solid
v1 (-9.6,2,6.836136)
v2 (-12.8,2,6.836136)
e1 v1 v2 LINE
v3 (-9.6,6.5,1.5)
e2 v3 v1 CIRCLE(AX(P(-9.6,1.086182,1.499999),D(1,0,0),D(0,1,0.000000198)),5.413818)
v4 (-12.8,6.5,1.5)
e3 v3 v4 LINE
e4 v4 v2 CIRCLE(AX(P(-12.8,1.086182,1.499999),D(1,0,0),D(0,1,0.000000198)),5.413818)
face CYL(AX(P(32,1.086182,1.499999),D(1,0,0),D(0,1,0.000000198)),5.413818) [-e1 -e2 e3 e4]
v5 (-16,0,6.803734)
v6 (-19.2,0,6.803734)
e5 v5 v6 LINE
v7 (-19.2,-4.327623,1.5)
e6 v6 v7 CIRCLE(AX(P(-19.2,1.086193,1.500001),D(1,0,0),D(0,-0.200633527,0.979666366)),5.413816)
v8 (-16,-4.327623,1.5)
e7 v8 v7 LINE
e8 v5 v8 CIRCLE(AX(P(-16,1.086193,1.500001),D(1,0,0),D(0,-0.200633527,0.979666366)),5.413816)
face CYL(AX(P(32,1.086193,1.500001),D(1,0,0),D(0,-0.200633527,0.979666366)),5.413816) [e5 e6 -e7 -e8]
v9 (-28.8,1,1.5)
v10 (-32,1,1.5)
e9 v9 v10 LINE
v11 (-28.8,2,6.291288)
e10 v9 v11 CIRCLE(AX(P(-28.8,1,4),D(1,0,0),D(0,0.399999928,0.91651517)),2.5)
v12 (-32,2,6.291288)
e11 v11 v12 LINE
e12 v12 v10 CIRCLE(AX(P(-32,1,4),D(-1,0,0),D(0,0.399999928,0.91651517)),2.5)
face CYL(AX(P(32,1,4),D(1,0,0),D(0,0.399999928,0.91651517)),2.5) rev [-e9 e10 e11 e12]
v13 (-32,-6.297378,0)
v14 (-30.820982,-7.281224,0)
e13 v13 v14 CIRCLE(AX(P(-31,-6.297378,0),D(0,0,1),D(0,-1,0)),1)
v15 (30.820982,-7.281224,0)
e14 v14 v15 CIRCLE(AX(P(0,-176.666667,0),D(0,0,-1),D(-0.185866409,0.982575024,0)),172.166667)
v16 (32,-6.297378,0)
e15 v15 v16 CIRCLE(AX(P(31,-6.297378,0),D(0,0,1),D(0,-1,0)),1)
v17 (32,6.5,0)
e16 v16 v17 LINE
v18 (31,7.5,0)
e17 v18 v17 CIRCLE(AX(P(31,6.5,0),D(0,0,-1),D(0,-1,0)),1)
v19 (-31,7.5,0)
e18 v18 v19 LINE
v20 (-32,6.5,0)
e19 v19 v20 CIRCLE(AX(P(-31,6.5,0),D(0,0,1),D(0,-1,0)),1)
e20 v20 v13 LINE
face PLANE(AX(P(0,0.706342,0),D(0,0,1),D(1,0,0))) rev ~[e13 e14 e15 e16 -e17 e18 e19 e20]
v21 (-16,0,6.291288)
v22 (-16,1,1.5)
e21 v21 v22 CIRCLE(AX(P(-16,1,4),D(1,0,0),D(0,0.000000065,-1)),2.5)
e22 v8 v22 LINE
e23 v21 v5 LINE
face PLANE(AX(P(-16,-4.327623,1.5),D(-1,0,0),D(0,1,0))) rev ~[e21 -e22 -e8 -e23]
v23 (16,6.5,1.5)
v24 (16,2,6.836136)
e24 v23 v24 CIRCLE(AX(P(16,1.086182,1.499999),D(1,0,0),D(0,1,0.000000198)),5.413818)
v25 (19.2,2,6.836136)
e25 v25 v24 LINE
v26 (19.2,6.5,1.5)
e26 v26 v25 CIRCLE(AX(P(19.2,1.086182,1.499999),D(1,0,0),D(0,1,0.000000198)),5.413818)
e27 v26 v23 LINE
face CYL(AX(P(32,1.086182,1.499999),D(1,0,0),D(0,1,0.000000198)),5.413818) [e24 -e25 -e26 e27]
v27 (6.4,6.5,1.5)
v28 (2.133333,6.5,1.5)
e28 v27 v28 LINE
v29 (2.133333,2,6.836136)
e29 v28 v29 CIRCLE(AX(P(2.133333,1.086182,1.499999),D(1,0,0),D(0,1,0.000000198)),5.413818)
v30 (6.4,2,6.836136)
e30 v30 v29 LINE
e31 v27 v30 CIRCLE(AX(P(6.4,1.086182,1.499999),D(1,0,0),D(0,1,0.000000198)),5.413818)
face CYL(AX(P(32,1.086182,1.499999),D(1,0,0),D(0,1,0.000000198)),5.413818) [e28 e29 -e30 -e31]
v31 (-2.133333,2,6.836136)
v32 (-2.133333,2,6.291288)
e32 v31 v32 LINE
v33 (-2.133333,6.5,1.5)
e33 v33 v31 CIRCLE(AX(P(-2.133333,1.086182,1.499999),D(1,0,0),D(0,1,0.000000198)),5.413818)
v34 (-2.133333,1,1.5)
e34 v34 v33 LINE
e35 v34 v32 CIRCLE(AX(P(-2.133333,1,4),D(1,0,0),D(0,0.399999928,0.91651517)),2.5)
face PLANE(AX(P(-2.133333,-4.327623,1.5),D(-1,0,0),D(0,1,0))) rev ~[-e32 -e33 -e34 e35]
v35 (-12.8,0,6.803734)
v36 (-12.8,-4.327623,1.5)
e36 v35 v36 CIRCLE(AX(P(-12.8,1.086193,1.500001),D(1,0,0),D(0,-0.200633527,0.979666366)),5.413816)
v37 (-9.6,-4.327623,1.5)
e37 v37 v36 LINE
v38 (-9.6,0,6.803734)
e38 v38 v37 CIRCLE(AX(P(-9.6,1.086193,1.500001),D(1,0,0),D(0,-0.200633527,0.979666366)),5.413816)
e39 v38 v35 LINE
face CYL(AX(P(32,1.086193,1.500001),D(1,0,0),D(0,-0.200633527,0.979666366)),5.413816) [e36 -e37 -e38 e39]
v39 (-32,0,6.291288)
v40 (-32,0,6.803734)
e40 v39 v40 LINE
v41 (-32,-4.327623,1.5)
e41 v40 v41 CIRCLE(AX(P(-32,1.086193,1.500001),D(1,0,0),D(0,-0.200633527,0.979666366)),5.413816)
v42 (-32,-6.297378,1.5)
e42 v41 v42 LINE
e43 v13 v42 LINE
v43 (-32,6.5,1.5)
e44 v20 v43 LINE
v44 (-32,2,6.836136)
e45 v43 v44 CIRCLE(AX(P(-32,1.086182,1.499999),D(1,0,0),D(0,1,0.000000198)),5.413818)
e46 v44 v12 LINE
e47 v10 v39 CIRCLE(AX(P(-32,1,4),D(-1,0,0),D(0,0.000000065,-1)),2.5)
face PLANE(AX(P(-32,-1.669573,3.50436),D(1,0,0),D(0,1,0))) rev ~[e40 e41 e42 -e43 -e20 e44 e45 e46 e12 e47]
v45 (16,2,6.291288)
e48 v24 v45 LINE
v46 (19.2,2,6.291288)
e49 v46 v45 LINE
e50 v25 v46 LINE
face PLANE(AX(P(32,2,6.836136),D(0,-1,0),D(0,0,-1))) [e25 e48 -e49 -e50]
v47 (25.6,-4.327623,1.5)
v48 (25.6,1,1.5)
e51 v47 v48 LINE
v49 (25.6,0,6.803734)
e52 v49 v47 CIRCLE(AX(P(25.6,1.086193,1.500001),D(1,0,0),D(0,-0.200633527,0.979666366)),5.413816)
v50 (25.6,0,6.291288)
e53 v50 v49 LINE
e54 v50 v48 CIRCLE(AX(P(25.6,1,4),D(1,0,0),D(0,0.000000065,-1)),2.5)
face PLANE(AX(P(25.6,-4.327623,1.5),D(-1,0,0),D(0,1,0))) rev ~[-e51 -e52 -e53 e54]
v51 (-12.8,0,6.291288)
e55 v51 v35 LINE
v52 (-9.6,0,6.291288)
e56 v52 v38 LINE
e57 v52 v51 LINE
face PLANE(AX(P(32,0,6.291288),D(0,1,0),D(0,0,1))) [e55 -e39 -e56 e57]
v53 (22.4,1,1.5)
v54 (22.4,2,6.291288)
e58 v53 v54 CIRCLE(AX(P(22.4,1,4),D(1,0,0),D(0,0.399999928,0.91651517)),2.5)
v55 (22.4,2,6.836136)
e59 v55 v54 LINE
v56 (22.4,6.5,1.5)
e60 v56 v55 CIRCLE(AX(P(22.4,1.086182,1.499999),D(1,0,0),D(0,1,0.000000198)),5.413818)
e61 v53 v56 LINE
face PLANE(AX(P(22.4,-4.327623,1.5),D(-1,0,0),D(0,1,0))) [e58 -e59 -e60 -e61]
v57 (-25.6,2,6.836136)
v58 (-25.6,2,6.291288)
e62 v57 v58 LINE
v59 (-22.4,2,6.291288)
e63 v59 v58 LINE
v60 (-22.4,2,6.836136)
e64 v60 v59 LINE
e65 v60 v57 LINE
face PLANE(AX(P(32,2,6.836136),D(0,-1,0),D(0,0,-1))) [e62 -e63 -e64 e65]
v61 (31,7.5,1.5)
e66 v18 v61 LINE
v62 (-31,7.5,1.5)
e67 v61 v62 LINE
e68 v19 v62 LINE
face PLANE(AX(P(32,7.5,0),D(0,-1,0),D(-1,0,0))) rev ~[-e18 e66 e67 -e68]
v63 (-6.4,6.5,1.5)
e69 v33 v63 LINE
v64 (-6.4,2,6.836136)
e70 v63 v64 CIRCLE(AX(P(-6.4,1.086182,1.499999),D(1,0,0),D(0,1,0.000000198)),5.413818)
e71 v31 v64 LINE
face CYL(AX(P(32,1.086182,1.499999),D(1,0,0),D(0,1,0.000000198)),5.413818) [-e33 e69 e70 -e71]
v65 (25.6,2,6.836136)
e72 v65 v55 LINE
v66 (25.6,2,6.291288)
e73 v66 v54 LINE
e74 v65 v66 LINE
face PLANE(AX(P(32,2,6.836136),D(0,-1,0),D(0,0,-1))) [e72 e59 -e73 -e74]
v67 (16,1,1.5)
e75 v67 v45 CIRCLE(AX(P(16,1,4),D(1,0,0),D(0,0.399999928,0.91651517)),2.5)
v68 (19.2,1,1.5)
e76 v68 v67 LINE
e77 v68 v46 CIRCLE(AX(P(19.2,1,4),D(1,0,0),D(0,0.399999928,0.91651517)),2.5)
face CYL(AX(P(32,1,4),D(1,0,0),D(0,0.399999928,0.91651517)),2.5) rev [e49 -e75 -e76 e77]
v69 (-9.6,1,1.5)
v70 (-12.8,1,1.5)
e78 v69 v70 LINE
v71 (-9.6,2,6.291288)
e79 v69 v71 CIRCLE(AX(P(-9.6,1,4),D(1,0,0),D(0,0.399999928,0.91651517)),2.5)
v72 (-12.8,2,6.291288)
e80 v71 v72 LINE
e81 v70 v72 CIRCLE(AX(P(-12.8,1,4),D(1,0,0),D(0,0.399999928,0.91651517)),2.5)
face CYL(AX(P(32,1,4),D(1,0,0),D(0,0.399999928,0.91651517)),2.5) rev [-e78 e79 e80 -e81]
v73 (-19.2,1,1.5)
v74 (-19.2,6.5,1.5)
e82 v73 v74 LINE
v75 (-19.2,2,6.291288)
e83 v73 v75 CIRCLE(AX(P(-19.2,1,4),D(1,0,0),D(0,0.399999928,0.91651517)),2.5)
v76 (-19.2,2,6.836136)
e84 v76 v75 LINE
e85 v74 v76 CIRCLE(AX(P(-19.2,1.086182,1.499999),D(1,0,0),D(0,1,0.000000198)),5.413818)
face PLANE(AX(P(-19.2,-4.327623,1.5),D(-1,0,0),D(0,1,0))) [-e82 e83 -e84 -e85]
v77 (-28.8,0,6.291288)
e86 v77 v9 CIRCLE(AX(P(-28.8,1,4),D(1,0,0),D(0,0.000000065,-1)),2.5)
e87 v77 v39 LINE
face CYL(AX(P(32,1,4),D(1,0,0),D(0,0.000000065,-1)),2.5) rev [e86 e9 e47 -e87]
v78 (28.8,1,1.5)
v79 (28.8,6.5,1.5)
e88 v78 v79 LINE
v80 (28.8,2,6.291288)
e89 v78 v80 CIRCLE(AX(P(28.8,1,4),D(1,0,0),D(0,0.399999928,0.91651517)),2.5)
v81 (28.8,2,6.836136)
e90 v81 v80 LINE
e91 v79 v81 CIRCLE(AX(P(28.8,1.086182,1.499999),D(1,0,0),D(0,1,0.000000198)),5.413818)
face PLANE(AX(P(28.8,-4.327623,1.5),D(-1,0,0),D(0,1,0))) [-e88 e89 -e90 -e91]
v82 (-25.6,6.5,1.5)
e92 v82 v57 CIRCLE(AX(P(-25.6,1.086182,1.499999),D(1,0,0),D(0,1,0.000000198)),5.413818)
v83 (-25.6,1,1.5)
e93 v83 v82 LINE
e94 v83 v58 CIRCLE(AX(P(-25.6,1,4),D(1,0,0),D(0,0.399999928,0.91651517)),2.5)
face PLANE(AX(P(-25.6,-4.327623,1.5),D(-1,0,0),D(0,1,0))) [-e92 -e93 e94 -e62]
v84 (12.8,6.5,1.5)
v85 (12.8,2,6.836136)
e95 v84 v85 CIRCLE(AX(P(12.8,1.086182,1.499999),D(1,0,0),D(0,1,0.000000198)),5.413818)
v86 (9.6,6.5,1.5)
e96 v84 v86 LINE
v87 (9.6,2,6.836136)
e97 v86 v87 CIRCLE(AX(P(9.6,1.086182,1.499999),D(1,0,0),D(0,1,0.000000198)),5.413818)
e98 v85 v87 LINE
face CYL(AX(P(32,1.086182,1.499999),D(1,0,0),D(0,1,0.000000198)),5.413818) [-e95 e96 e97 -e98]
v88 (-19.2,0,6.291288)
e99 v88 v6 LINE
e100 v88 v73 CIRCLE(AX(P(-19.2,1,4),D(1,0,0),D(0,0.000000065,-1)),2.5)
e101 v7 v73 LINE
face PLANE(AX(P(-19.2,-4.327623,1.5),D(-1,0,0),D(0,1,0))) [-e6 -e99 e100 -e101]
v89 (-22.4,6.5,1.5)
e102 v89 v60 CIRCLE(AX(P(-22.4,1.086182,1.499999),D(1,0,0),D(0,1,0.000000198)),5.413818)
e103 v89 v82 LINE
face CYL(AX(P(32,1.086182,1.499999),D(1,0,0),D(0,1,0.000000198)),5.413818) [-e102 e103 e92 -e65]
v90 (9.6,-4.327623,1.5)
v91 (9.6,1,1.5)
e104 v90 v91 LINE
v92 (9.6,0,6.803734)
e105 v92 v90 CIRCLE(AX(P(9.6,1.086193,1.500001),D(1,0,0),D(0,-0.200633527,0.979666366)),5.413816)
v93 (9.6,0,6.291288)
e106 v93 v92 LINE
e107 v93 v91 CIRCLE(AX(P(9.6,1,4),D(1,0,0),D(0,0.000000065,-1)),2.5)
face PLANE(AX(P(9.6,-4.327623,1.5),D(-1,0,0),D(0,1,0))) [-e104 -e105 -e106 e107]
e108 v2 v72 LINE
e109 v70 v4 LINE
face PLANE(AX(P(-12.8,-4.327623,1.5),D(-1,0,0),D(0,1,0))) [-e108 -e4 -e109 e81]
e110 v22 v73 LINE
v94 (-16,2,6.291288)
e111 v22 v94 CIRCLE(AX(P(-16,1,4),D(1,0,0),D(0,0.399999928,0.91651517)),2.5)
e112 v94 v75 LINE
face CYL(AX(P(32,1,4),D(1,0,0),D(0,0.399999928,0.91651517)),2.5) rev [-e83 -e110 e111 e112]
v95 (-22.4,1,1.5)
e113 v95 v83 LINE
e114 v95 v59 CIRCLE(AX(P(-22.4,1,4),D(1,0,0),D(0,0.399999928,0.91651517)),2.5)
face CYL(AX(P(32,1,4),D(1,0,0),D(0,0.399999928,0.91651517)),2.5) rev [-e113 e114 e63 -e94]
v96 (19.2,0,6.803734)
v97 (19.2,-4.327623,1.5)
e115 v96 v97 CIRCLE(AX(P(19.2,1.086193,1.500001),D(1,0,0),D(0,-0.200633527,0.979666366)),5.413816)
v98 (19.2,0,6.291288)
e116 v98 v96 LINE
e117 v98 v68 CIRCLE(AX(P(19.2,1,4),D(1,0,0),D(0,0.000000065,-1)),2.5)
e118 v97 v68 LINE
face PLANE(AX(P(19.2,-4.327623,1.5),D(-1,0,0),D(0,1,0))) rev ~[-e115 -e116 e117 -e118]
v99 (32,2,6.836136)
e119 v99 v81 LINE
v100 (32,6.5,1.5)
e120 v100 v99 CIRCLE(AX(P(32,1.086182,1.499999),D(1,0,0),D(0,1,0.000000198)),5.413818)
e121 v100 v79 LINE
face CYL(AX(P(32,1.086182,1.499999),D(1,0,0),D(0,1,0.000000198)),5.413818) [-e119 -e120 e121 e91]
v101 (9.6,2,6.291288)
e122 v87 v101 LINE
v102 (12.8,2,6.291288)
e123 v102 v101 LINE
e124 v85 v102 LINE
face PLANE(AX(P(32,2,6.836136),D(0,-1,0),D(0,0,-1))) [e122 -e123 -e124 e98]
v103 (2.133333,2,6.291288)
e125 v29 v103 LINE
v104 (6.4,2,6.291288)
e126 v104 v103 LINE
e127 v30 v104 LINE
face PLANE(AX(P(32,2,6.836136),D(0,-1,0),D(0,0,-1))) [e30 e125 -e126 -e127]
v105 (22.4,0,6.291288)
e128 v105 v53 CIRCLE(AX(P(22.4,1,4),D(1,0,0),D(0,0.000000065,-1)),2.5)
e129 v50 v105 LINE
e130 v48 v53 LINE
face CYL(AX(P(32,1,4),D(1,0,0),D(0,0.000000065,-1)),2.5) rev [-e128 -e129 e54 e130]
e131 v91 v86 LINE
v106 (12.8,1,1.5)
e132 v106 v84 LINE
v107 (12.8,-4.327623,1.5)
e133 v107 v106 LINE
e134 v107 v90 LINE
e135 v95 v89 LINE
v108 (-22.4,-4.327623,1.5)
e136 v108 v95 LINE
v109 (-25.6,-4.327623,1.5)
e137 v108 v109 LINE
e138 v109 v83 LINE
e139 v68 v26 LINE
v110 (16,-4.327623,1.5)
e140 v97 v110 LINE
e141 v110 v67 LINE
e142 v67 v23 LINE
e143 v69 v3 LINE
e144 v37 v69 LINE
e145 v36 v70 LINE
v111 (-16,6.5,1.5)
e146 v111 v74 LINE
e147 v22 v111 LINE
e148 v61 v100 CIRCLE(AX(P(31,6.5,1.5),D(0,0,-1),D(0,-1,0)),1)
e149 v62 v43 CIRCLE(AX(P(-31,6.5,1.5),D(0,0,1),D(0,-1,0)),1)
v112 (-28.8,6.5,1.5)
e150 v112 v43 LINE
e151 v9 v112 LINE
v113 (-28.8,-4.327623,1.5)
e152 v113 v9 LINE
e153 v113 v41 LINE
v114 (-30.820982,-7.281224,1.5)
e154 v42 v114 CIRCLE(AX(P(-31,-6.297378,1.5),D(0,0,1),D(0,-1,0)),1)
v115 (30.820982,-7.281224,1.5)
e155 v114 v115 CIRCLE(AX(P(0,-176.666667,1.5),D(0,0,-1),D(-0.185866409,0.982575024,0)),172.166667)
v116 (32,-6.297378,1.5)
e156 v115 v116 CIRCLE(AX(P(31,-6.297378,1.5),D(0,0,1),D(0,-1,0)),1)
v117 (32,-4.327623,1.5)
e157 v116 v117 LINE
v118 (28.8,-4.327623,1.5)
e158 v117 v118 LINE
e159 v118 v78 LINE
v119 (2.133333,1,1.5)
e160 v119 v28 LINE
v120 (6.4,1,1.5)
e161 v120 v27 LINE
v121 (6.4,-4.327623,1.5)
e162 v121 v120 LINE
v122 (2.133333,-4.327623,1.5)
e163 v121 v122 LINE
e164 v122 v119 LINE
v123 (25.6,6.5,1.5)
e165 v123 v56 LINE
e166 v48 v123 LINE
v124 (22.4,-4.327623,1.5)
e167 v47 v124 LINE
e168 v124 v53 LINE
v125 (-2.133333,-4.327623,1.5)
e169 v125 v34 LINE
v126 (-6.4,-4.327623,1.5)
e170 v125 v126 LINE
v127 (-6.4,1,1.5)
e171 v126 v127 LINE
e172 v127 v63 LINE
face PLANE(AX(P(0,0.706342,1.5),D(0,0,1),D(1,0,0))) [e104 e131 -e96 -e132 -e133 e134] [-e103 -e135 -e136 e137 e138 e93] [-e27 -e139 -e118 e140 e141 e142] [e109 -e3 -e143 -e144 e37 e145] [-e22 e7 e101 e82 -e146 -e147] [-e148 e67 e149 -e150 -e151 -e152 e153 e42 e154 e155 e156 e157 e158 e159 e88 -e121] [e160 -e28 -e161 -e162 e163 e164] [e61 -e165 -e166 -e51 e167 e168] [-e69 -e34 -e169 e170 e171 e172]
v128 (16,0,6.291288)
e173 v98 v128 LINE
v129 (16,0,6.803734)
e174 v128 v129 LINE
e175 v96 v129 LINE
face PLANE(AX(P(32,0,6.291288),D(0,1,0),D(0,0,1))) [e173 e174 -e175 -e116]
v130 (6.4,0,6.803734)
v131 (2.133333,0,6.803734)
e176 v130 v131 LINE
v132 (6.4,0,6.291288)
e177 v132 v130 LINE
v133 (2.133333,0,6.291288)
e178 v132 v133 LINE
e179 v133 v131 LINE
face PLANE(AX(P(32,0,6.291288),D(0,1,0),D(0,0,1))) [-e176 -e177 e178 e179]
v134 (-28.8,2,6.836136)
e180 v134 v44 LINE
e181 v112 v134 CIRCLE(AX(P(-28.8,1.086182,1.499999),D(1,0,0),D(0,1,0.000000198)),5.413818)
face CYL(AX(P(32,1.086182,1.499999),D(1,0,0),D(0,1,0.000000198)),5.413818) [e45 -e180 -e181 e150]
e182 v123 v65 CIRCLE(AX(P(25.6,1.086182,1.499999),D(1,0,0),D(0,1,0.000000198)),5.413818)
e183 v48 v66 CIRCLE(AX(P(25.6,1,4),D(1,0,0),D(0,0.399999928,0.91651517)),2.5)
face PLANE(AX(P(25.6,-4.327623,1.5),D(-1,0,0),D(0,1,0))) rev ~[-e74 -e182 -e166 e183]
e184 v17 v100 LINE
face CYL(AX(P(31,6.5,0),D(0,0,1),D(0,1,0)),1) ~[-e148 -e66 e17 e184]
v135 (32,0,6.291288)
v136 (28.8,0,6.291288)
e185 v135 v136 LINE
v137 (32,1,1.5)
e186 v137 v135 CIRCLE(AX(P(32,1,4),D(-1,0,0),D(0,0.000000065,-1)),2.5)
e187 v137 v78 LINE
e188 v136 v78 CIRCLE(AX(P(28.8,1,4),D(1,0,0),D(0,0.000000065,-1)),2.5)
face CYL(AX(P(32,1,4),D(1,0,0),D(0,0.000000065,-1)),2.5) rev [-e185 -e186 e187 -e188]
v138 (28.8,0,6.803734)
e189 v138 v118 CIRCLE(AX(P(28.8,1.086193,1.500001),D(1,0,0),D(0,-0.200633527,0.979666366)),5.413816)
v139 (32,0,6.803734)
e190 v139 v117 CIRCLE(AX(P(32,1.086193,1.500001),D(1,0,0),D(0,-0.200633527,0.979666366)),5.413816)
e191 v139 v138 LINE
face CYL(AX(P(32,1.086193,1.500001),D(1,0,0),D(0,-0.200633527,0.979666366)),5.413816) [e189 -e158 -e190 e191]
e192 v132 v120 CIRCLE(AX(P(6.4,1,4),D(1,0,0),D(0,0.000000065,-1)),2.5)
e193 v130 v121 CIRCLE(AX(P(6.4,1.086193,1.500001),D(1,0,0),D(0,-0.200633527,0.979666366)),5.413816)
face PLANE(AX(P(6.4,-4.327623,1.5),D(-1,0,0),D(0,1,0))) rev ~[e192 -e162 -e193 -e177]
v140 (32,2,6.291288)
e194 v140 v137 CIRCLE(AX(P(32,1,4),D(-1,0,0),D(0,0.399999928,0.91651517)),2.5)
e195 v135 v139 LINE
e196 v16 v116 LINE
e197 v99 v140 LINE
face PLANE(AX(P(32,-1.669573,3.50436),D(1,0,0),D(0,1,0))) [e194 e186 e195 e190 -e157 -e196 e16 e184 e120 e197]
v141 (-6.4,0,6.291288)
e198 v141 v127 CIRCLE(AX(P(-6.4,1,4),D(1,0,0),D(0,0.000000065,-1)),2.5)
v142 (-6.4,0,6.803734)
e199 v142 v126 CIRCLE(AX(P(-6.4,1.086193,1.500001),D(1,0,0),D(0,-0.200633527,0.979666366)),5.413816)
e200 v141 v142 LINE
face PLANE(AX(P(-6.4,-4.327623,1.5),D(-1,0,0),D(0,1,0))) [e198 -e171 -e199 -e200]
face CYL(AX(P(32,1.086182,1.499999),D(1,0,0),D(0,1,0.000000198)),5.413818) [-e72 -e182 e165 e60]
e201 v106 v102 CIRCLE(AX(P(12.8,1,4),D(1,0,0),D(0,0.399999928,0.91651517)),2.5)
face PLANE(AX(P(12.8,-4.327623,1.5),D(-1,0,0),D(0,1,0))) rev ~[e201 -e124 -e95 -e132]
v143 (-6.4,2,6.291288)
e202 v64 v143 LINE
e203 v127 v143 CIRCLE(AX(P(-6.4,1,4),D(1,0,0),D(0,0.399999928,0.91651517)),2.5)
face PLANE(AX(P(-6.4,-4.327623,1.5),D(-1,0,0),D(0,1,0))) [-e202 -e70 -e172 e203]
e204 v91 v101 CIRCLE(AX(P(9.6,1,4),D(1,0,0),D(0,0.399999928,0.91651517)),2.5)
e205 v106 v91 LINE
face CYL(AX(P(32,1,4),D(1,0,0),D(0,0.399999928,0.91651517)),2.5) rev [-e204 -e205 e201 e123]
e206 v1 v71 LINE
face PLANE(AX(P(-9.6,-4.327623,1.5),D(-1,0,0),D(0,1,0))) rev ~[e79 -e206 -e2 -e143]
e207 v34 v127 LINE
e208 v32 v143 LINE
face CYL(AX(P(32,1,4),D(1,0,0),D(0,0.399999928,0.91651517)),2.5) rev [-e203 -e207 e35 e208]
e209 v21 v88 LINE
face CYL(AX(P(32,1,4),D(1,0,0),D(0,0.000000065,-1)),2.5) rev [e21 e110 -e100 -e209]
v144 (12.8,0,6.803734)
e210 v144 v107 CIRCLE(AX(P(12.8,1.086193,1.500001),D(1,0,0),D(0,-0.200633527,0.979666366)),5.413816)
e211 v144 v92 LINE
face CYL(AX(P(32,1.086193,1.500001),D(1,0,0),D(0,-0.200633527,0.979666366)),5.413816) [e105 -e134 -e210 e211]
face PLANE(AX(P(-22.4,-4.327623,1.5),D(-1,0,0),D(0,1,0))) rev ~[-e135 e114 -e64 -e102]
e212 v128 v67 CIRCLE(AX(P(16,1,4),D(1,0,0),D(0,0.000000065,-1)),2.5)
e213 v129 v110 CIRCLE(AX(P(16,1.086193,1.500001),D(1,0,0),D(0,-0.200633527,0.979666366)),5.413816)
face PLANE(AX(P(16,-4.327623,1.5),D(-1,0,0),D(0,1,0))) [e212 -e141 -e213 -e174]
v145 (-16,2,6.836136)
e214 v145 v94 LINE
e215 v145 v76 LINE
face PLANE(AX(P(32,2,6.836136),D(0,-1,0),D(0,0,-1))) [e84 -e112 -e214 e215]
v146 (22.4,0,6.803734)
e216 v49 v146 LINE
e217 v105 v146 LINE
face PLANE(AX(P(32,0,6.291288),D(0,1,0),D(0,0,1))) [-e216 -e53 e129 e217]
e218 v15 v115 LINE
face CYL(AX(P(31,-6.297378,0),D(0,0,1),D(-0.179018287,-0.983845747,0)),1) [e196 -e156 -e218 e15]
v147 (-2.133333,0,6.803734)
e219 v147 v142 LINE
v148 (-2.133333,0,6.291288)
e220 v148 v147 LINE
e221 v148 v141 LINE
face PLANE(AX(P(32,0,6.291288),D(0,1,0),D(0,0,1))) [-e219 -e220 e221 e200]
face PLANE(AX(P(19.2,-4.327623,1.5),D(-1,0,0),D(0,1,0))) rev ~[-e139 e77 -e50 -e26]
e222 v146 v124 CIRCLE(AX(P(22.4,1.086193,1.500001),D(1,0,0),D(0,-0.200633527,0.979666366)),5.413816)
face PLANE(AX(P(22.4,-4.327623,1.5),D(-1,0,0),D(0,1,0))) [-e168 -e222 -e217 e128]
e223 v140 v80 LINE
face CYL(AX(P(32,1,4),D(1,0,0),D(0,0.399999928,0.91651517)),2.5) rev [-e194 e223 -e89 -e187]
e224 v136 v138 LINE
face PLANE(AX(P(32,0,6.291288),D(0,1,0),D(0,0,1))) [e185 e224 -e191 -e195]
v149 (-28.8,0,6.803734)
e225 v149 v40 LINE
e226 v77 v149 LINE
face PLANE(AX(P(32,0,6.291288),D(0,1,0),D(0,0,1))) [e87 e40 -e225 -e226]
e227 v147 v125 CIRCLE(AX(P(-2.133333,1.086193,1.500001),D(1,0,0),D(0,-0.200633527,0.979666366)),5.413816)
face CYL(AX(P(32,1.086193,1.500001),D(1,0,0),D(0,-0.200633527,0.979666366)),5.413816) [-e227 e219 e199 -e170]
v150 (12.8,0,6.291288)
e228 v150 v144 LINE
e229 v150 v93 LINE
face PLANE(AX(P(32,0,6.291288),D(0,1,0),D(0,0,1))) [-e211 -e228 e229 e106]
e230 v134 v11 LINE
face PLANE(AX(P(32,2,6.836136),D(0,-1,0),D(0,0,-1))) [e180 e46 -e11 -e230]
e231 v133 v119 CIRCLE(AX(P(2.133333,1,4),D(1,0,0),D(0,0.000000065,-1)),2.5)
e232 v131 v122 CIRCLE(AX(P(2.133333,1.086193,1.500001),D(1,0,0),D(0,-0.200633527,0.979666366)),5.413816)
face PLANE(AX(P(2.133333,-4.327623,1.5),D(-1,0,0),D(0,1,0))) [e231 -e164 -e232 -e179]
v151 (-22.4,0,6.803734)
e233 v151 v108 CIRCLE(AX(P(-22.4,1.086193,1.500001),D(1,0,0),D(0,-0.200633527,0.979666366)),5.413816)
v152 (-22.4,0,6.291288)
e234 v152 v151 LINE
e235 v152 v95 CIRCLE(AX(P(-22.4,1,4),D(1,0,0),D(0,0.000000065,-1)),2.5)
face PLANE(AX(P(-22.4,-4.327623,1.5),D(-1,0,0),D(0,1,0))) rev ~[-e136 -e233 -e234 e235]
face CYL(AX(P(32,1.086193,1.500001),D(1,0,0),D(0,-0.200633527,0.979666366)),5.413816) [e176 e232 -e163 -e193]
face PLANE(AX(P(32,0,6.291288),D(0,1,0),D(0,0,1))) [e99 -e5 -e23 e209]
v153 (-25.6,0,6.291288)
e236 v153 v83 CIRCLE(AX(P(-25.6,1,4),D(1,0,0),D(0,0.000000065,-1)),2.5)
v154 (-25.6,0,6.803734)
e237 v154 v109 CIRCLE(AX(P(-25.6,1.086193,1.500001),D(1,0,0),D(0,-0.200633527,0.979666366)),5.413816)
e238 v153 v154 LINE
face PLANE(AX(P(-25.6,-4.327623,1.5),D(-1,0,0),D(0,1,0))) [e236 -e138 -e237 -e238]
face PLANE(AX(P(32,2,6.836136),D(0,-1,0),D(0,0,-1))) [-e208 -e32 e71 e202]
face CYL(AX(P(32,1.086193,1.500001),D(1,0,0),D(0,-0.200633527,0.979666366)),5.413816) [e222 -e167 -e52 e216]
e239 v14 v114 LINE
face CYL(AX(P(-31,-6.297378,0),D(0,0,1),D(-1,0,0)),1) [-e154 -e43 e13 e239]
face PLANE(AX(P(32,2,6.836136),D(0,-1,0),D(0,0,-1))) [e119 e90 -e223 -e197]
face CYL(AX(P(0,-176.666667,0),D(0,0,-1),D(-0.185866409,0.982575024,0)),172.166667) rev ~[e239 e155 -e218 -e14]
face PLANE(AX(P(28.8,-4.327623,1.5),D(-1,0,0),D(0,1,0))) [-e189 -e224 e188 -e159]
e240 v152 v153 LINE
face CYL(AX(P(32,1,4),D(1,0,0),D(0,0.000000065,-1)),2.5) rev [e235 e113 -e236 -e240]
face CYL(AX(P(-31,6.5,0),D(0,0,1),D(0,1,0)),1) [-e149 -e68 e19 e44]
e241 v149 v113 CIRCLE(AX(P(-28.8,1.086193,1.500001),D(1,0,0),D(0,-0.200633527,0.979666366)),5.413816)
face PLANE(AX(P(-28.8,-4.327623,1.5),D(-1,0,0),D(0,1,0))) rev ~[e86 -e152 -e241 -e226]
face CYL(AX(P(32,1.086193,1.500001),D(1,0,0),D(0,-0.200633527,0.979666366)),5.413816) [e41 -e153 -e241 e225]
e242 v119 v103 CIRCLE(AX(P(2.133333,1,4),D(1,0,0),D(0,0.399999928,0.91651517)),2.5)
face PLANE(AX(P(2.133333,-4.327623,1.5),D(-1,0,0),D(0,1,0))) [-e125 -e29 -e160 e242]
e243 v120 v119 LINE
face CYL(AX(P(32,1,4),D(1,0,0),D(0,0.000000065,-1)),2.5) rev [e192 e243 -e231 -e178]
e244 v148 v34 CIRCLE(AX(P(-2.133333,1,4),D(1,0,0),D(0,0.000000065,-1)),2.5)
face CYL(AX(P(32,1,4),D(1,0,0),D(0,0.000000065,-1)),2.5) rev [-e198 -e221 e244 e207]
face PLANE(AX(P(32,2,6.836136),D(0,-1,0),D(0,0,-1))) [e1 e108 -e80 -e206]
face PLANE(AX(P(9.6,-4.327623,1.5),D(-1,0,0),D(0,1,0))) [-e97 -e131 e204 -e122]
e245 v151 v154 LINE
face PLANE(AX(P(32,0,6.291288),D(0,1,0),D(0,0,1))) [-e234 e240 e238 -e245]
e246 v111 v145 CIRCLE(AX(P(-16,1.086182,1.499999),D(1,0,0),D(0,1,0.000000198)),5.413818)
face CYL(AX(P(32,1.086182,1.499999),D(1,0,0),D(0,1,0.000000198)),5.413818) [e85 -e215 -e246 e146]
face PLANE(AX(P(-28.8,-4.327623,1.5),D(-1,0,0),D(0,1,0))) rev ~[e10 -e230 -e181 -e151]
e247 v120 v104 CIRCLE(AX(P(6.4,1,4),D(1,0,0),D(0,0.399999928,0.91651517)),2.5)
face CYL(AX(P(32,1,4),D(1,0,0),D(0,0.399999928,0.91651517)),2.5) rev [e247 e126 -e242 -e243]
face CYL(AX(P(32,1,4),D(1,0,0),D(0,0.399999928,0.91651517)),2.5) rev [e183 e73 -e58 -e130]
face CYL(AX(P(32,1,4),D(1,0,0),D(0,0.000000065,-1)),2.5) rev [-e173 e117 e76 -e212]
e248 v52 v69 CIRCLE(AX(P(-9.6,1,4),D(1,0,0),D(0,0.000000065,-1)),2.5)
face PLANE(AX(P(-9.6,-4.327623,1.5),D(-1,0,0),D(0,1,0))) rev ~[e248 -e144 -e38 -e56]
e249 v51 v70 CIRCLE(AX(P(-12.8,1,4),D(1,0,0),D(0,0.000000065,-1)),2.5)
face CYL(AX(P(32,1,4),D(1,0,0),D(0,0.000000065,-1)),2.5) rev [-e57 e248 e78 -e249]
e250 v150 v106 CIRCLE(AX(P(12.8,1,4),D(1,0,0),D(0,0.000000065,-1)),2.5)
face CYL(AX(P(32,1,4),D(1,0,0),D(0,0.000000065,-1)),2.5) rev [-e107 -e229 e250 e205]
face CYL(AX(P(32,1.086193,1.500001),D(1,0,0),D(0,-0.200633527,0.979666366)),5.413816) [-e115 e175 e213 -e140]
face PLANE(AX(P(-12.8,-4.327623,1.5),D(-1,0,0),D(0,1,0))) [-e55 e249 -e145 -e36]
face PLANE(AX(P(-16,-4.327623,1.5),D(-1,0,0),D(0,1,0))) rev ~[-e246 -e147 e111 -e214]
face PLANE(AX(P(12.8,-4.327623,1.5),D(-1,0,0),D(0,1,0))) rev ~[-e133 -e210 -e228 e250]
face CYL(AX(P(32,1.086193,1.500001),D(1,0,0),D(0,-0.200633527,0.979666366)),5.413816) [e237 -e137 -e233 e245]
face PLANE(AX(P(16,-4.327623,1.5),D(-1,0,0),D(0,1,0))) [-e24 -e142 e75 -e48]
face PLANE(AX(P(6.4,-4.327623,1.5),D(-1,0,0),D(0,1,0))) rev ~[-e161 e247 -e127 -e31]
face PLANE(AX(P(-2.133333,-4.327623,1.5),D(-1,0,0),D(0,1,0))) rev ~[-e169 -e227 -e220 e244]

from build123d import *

# Parameters (mm, degrees)
F1_DEPTH = 1.5
F2_R     = 1
F4_DEPTH = 64
F5_W     = 4.266666
F5_H     = 13.671578
F5_W_2   = 3.2
F6_DEPTH = 7.7216


with BuildPart() as f1:
    # F0 (on Top) → F1 (new body)
    with BuildSketch(Plane.XY):
        with BuildLine():
            Line((32, 7.5), (-32, 7.5))
            Line((-32, 7.5), (-32, -7.5))
            ThreePointArc((-32, -7.5), (0, -4.5), (32, -7.5))
            Line((32, -7.5), (32, 7.5))
        make_face()
    extrude(amount=F1_DEPTH)

    # F2
    f2_edges = [f1.edges().sort_by_distance(p)[0] for p in [
        (32, 7.5, 0.75),
        (32, -7.5, 0.75),
        (-32, -7.5, 0.75),
        (-32, 7.5, 0.75),
    ]]
    fillet(f2_edges, radius=F2_R)

    # F3 (on face) → F4 (join)
    with BuildSketch(Plane.YZ.offset(32)):
        with BuildLine():
            ThreePointArc((1, 1.5), (-1.447266, 3.489226), (0, 6.291288))
            Line((0, 6.291288), (0, 6.803734))
            ThreePointArc((0, 6.803734), (-3.108438, 4.922642), (-4.327623, 1.5))
            Line((-4.327623, 1.5), (1, 1.5))
        make_face()
        with BuildLine():
            ThreePointArc((2, 6.291288), (3.447266, 3.489226), (1, 1.5))
            Line((1, 1.5), (6.5, 1.5))
            ThreePointArc((6.5, 1.5), (5.224821, 4.990141), (2, 6.836136))
            Line((2, 6.836136), (2, 6.291288))
        make_face()
    extrude(amount=-F4_DEPTH)

    # F5 (on face) → F6 (cut)
    with BuildSketch(Plane.XY.offset(1.5)):
        with Locations((0, 2.508166)):
            Rectangle(F5_W, F5_H)
        with Locations((-8, 2.508166)):
            Rectangle(F5_W_2, F5_H)
        with Locations((-14.4, 2.508166)):
            Rectangle(F5_W_2, F5_H)
        with Locations((-20.8, 2.508166)):
            Rectangle(F5_W_2, F5_H)
        with Locations((-27.2, 2.508166)):
            Rectangle(F5_W_2, F5_H)
        with Locations((8, 2.508166)):
            Rectangle(F5_W_2, F5_H)
        with Locations((14.4, 2.508166)):
            Rectangle(F5_W_2, F5_H)
        with Locations((20.8, 2.508166)):
            Rectangle(F5_W_2, F5_H)
        with Locations((27.2, 2.508166)):
            Rectangle(F5_W_2, F5_H)
    extrude(amount=F6_DEPTH, mode=Mode.SUBTRACT)


solid = f1.part
